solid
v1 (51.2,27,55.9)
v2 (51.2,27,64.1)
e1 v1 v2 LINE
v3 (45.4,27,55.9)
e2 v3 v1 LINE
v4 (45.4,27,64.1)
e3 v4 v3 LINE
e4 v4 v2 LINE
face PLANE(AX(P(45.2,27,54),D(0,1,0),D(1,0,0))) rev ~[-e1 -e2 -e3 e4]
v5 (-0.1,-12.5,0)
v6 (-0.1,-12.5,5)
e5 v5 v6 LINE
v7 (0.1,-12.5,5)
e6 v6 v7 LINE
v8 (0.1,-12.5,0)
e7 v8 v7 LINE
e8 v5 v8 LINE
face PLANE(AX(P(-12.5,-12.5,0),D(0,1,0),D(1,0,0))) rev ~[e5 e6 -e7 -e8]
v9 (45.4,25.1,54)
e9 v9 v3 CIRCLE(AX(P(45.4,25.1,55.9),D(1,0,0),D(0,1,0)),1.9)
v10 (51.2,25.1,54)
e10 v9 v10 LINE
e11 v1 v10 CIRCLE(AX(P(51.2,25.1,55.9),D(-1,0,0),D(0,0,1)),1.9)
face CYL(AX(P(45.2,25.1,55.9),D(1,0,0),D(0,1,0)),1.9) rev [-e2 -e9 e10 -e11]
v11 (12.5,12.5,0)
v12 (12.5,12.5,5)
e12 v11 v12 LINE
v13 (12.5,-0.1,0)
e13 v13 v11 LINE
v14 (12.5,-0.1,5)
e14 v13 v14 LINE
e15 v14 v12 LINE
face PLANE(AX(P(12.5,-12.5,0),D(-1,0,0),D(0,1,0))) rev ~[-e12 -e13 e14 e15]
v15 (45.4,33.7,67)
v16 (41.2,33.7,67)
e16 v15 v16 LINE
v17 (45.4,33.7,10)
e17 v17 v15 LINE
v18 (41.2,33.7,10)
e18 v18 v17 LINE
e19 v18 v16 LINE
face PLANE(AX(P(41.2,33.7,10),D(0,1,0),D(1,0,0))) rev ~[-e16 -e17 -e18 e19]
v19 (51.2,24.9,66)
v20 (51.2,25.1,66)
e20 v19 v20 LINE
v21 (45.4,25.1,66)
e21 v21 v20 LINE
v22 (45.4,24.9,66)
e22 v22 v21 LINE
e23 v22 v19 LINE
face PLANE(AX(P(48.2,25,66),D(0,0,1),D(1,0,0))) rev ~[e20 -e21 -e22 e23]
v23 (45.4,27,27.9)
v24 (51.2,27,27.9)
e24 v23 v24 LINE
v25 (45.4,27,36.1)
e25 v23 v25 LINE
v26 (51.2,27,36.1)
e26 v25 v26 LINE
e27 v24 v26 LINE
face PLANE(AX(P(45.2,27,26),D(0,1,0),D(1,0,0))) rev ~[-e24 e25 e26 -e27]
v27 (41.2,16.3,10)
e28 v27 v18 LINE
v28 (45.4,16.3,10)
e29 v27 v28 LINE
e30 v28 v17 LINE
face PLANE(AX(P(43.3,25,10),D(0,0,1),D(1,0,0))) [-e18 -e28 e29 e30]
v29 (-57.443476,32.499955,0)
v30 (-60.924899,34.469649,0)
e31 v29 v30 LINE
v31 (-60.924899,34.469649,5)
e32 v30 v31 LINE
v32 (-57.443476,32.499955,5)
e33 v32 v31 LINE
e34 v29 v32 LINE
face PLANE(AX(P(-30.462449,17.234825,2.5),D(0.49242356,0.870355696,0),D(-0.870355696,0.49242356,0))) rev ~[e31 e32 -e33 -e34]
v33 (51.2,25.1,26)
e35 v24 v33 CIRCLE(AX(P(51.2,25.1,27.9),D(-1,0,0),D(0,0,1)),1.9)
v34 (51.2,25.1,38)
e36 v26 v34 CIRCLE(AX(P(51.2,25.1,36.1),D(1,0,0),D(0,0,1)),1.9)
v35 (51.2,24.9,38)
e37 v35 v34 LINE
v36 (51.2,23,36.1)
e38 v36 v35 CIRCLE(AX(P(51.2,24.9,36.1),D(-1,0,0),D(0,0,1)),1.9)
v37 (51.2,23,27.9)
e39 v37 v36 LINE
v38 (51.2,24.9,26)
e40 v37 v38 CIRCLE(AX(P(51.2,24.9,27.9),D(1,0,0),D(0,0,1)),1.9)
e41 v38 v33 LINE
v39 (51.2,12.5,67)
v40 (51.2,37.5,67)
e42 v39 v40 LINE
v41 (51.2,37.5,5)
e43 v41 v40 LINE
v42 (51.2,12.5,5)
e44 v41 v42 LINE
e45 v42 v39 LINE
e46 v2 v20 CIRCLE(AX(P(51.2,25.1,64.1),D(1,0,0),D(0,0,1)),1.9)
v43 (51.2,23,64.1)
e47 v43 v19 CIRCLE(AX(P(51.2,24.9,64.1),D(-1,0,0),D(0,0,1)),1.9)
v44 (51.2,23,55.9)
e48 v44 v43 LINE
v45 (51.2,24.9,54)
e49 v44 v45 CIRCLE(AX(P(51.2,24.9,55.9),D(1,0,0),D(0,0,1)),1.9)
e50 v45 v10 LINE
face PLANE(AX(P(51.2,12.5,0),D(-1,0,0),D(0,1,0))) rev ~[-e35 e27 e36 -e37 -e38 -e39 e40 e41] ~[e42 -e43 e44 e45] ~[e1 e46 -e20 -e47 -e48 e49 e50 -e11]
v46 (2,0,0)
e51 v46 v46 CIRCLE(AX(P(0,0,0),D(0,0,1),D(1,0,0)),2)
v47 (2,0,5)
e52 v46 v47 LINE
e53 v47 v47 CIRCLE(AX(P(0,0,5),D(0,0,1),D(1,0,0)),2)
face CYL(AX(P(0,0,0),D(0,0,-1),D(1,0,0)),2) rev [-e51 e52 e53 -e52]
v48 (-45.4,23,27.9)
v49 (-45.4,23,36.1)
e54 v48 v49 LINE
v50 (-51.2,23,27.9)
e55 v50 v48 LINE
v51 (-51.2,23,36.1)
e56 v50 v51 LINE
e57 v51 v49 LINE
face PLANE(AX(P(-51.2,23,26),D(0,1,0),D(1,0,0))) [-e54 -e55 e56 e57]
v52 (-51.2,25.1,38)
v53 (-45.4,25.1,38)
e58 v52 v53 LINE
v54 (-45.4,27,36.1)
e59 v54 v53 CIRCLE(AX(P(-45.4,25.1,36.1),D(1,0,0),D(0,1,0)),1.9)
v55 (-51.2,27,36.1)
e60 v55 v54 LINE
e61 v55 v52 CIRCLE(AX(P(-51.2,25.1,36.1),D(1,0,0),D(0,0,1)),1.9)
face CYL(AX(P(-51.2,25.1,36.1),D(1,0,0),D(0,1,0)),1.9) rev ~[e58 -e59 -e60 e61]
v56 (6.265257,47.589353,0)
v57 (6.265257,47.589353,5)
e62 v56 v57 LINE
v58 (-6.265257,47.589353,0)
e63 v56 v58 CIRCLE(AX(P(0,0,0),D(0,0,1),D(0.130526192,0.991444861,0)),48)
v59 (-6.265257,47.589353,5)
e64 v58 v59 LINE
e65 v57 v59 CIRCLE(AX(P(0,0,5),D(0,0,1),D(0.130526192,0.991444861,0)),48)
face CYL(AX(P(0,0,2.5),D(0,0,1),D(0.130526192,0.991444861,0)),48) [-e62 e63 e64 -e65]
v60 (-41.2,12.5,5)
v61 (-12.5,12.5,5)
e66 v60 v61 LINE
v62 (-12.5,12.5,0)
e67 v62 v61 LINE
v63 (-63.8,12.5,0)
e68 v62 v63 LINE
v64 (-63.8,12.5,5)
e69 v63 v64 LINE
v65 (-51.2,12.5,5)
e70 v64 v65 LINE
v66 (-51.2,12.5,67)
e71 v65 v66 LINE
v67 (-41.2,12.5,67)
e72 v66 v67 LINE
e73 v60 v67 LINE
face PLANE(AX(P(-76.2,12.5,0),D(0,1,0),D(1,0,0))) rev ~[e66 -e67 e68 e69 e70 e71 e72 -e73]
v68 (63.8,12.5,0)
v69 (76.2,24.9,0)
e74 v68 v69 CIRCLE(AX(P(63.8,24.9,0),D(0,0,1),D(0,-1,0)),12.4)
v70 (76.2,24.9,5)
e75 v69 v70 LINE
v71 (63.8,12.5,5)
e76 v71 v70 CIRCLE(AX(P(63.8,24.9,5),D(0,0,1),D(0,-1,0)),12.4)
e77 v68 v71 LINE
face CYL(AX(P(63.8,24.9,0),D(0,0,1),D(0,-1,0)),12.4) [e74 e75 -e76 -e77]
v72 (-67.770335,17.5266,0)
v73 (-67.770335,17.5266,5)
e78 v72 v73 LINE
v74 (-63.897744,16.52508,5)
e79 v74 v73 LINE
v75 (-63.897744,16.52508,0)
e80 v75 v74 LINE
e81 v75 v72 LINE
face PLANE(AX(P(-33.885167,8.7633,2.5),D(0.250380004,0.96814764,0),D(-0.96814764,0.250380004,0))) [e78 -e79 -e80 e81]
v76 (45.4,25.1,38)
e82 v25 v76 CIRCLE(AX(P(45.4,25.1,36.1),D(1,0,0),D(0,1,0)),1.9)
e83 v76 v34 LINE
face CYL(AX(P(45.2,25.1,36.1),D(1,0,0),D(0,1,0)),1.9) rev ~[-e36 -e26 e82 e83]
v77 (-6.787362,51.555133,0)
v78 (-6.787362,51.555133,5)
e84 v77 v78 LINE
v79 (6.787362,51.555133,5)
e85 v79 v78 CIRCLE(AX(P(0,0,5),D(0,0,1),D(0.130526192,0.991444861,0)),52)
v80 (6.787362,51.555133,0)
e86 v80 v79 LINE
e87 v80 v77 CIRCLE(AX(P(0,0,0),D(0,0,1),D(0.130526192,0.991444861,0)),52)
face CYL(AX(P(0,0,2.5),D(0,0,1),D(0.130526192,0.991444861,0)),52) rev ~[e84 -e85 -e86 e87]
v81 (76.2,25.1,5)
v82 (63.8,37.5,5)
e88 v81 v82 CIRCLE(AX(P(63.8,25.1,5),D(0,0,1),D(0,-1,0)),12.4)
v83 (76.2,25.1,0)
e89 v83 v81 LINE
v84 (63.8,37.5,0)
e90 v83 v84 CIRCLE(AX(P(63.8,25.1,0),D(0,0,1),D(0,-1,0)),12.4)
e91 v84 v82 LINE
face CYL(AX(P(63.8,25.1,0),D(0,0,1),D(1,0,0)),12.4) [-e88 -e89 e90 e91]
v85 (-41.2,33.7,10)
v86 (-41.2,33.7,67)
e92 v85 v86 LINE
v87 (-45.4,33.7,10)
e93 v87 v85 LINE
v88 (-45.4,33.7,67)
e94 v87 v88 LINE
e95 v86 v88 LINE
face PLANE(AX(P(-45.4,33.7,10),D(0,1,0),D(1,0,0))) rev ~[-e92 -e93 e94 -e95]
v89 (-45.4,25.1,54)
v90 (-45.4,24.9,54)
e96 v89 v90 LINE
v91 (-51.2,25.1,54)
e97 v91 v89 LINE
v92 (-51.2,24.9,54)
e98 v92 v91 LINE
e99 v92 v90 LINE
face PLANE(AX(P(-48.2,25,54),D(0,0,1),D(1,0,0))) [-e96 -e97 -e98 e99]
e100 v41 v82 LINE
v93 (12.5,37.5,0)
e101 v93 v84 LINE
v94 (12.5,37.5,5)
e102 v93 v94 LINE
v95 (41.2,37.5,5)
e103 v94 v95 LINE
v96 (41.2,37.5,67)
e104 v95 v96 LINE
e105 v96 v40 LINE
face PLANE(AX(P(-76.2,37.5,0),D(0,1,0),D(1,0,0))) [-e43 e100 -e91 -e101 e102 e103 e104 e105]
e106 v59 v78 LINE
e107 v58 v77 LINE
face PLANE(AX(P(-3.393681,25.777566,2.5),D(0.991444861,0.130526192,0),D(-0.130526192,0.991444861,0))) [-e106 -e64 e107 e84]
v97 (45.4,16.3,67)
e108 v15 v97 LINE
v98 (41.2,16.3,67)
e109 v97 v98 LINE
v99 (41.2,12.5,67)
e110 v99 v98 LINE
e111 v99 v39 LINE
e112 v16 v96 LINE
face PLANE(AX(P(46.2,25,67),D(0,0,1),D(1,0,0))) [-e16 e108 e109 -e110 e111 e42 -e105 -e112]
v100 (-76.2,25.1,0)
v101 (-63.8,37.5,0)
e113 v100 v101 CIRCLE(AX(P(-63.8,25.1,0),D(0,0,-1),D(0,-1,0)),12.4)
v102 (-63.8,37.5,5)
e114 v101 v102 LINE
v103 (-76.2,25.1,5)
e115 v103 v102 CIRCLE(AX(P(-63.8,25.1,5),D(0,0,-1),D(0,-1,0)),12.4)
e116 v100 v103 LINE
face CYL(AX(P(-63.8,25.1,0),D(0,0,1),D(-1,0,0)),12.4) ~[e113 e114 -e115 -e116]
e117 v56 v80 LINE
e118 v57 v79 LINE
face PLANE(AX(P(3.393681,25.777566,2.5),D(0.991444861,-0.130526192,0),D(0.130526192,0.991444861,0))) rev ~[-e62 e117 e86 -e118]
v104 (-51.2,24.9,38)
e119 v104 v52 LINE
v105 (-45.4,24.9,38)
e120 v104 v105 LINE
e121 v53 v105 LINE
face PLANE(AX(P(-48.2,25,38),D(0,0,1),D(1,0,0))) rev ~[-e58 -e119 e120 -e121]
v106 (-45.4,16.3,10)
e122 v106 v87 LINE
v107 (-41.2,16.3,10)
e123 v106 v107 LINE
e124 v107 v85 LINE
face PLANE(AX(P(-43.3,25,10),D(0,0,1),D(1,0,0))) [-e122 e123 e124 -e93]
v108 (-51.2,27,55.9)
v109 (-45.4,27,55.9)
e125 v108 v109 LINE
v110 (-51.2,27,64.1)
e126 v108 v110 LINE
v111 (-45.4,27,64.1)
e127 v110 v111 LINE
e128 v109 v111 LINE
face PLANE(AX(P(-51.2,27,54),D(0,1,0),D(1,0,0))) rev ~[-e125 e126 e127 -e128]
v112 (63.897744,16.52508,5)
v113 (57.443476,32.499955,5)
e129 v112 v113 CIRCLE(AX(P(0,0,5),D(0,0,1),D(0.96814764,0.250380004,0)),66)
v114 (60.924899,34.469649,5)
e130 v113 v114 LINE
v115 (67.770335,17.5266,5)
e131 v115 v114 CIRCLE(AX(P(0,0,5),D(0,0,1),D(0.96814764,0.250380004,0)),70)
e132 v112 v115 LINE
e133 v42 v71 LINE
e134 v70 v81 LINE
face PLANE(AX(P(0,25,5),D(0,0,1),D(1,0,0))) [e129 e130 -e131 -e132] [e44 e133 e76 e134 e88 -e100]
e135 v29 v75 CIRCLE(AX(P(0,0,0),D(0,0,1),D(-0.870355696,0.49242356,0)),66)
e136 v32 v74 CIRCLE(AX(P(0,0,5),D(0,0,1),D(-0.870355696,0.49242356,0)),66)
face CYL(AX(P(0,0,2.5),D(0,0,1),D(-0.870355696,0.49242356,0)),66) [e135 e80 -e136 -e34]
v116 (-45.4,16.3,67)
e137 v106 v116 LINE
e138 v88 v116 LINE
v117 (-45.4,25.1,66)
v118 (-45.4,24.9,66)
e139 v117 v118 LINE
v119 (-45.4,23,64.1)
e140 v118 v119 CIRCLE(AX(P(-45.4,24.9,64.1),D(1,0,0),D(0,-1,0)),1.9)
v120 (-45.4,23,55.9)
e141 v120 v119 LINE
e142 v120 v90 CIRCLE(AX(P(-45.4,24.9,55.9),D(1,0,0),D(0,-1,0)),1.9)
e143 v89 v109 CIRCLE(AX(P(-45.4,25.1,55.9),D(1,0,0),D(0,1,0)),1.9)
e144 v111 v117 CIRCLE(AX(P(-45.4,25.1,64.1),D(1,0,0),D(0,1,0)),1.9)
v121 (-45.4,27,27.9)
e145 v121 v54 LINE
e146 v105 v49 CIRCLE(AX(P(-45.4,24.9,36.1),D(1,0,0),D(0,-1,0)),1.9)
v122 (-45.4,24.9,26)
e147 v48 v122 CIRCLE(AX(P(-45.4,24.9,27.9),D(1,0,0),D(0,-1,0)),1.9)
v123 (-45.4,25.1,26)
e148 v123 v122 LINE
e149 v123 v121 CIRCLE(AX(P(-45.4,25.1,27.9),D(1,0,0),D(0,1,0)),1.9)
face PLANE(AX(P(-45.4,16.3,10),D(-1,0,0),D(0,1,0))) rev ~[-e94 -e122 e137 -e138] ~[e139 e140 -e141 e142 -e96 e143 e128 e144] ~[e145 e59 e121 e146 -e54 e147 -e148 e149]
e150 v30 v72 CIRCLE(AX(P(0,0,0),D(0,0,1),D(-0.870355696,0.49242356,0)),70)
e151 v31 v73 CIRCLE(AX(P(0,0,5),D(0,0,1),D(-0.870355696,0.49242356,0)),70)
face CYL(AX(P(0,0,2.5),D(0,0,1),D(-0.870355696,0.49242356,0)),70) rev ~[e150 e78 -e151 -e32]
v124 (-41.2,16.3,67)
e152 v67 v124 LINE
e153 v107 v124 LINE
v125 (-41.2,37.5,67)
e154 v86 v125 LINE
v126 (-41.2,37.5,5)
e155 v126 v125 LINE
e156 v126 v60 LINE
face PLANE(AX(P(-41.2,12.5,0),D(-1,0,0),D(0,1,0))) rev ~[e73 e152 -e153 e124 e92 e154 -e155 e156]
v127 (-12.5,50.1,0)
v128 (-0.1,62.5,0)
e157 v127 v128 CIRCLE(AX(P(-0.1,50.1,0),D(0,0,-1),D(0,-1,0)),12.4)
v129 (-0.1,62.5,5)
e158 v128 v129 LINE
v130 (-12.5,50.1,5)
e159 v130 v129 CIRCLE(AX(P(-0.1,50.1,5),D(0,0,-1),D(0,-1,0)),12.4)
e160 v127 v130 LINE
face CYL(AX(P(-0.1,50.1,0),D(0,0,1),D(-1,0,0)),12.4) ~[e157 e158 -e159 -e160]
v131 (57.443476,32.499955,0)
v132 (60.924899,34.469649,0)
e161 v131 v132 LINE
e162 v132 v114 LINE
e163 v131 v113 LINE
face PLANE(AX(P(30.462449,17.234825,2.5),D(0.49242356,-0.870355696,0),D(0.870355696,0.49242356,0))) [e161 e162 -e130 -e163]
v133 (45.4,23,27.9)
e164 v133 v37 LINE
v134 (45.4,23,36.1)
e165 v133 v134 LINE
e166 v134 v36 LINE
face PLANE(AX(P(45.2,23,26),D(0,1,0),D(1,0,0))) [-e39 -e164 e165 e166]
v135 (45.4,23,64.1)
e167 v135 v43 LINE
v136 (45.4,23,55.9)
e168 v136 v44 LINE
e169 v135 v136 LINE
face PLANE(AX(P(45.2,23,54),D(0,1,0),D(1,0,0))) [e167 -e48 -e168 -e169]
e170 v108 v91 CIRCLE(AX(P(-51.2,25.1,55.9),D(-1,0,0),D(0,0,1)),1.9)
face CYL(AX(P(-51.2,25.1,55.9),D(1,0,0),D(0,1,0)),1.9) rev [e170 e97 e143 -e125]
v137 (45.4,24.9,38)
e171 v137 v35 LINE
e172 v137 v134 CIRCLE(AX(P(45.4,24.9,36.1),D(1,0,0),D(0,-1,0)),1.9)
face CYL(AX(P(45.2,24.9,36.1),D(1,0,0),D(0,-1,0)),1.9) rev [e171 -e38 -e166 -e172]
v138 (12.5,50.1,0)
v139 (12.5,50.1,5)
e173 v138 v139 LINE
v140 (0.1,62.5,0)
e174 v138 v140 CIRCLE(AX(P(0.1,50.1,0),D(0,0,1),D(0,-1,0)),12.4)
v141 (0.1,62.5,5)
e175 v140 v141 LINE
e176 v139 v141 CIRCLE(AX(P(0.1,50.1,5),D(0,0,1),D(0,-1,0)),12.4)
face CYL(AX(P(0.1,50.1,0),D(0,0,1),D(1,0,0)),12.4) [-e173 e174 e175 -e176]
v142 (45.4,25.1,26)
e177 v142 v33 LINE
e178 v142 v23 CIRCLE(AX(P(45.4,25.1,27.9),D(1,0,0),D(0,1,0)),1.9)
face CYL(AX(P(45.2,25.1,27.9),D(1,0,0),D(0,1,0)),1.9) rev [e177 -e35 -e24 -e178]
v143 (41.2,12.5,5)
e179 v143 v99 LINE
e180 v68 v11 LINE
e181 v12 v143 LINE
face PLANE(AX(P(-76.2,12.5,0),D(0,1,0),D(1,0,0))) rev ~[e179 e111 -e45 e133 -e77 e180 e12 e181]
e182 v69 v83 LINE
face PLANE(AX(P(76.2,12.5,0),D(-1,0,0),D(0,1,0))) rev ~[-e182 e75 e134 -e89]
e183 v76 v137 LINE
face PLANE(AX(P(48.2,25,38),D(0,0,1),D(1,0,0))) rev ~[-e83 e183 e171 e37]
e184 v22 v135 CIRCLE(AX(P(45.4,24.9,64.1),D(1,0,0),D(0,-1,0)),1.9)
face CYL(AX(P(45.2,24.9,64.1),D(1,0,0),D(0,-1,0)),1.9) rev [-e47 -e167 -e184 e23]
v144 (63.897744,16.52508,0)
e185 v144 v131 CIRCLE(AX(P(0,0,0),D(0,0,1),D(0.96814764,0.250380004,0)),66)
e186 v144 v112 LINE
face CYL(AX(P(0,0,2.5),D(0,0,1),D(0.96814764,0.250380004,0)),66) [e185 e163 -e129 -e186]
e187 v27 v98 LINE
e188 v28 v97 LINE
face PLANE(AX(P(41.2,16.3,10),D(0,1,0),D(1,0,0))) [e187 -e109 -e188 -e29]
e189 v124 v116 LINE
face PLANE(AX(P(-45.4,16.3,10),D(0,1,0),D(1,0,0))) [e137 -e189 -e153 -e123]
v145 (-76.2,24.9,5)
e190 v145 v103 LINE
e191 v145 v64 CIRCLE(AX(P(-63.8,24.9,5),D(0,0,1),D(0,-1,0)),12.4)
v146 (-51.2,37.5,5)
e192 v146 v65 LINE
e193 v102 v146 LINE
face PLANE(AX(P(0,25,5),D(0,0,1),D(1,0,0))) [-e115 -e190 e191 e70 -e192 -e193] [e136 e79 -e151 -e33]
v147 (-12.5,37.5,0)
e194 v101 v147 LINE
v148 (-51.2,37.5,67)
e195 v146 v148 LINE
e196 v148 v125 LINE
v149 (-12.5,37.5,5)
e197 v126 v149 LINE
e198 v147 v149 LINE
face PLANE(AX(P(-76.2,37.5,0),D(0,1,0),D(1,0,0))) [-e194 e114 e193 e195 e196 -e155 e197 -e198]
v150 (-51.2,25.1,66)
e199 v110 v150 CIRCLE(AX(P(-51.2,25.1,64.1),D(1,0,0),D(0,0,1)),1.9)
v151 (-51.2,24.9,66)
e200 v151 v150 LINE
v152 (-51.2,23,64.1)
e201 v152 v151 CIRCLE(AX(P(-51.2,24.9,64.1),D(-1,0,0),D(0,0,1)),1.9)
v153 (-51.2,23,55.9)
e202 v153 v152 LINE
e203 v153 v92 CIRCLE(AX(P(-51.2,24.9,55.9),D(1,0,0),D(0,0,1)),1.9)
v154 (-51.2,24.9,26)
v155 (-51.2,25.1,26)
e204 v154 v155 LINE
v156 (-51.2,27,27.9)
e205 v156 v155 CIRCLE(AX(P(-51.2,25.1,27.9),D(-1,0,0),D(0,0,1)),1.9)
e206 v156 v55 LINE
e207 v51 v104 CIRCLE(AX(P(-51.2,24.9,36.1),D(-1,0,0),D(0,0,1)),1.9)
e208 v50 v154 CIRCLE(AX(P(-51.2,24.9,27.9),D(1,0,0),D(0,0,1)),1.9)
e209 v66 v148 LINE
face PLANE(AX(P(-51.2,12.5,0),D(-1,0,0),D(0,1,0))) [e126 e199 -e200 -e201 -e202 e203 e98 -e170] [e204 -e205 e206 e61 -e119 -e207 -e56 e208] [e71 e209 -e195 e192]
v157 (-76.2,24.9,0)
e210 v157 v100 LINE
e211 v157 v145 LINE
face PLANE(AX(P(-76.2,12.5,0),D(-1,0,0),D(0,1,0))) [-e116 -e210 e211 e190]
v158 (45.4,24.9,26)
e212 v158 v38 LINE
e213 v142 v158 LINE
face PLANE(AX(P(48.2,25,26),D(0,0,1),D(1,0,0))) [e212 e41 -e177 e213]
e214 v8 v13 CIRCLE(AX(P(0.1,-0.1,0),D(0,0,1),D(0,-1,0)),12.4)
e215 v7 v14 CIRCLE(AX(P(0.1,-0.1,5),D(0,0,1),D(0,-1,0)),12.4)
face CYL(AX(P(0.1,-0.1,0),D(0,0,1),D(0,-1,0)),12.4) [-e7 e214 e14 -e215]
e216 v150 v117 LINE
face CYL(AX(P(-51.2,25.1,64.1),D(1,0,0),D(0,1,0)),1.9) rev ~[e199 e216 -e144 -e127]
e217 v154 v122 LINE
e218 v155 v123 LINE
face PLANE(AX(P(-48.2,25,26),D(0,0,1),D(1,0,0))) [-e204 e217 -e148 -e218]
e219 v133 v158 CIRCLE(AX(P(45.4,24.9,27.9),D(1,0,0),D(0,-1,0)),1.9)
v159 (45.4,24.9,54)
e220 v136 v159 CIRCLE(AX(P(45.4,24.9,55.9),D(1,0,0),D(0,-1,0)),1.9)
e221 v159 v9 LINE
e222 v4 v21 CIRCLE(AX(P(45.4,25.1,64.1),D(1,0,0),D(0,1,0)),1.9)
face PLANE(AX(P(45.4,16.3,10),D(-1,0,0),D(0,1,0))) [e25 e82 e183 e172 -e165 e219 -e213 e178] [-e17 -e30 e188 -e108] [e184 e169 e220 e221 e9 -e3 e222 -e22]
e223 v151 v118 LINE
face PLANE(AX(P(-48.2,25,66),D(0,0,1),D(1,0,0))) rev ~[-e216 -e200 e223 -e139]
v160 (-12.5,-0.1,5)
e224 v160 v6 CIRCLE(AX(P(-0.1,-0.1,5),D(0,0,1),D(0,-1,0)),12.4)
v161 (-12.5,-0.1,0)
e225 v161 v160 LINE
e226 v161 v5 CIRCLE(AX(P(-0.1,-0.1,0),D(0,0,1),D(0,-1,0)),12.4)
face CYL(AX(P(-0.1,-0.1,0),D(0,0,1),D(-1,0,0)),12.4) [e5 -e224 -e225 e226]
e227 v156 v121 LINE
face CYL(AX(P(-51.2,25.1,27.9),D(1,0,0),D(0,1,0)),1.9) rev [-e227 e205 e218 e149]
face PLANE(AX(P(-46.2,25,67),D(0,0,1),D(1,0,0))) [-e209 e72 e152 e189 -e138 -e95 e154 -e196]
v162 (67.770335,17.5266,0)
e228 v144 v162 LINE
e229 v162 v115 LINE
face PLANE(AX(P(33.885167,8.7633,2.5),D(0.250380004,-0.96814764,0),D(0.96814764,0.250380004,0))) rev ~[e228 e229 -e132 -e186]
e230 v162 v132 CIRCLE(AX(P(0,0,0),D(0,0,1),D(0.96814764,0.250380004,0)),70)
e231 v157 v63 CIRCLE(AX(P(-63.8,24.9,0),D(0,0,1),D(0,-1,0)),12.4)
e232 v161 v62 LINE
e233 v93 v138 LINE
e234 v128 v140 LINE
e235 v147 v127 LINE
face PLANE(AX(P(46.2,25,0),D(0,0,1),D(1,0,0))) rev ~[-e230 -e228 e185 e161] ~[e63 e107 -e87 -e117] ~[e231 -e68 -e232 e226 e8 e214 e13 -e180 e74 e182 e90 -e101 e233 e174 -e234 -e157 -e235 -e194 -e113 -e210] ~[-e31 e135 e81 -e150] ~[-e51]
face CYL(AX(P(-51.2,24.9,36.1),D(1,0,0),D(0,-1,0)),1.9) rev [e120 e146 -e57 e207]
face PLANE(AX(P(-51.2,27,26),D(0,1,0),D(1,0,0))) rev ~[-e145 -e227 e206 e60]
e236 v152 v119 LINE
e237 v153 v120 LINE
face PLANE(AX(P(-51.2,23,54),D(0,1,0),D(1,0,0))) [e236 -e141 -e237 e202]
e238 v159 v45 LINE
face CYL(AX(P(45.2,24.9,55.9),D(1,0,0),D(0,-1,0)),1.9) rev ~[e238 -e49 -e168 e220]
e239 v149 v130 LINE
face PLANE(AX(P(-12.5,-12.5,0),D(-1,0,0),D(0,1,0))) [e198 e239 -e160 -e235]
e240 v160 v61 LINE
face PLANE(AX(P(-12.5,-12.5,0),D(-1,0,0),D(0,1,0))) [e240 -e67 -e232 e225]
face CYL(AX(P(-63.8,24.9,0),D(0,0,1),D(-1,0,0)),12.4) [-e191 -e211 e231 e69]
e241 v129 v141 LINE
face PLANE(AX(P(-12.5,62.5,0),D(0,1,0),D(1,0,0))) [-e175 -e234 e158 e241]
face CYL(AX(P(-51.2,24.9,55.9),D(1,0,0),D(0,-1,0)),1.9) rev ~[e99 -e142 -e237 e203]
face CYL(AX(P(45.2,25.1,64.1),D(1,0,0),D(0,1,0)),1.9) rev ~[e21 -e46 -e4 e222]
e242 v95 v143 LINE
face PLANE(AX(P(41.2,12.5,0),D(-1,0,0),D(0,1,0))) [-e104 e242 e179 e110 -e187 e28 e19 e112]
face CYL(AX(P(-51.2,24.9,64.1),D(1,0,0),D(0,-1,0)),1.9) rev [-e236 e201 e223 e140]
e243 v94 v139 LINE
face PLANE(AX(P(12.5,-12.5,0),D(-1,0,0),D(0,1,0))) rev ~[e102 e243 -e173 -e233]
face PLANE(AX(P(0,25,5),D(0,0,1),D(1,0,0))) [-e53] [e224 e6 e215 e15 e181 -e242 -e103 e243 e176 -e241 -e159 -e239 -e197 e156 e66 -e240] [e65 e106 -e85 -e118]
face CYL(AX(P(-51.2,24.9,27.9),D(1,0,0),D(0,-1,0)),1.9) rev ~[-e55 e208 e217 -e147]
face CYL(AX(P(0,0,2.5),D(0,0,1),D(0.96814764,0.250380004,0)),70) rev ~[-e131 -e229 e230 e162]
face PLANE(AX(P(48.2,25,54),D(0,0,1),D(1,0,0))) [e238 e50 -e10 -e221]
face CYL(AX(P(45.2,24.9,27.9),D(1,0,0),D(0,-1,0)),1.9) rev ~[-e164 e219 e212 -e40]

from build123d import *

# Parameters (mm, degrees)
BOX011_W                    = 6
BOX011_H                    = 4
BOX011_DEPTH                = 12
FILLET009_R                 = 1.9
BOX013_W                    = 4.2
BOX013_H                    = 17.4
BOX013_DEPTH                = 67
BOX010_W                    = 6
BOX010_H                    = 4
BOX010_DEPTH                = 12
FILLET008_R                 = 1.9
BOX012_W                    = 10
BOX012_H                    = 25
BOX012_DEPTH                = 67
BOX007_W                    = 4.2
BOX007_H                    = 17.4
BOX007_DEPTH                = 67
BOX008_W                    = 6
BOX008_H                    = 4
BOX008_DEPTH                = 12
FILLET006_R                 = 1.9
BOX009_W                    = 6
BOX009_H                    = 4
BOX009_DEPTH                = 12
FILLET007_R                 = 1.9
BOX006_W                    = 10
BOX006_H                    = 25
BOX006_DEPTH                = 67
CYLINDER002_W               = 66
CYLINDER002_H               = 5
CYLINDER002_ANGLE           = 15
CYLINDER002_PLACEMENT_ANGLE = 14.5
CYLINDER001_W               = 70
CYLINDER001_H               = 5
CYLINDER001_ANGLE           = 15
CYLINDER001_PLACEMENT_ANGLE = 14.5
CYLINDER004_W               = 48
CYLINDER004_H               = 5
CYLINDER004_ANGLE           = 15
CYLINDER004_PLACEMENT_ANGLE = 82.5
CYLINDER003_W               = 52
CYLINDER003_H               = 5
CYLINDER003_ANGLE           = 15
CYLINDER003_PLACEMENT_ANGLE = 82.5
CYLINDER007_R               = 2
CYLINDER007_DEPTH           = 5
CYLINDER006_W               = 66
CYLINDER006_H               = 5
CYLINDER006_ANGLE           = 15
CYLINDER006_PLACEMENT_ANGLE = 150.5
CYLINDER005_W               = 70
CYLINDER005_H               = 5
CYLINDER005_ANGLE           = 15
CYLINDER005_PLACEMENT_ANGLE = 150.5
BOX015_W                    = 25
BOX015_H                    = 75
BOX015_DEPTH                = 5
FILLET011_R                 = 12.4
BOX014_W                    = 152.4
BOX014_H                    = 25
BOX014_DEPTH                = 5
FILLET010_R                 = 12.4


with BuildPart() as fillet009:
    # Box011 → Box011 (new body)
    with BuildSketch(Plane(origin=(-45, 23, 26), x_dir=(1, 0, 0), z_dir=(0, 0, 1))):
        with Locations((3, 2)):
            Rectangle(BOX011_W, BOX011_H)
    extrude(amount=BOX011_DEPTH)

    # Fillet009
    fillet009_edges = [fillet009.edges().sort_by_distance(p)[0] for p in [
        (-42, 23, 26),
        (-42, 23, 38),
        (-42, 27, 26),
        (-42, 27, 38),
    ]]
    fillet(fillet009_edges, radius=FILLET009_R)


with BuildPart() as w_rfel013:
    # Box013 → Box013 (new body)
    with BuildSketch(Plane(origin=(-39.2, 16.3, 10), x_dir=(1, 0, 0), z_dir=(0, 0, 1))):
        with Locations((2.1, 8.7)):
            Rectangle(BOX013_W, BOX013_H)
    extrude(amount=BOX013_DEPTH)


with BuildPart() as fusion003:
    # Box010 → Box010 (new body)
    with BuildSketch(Plane(origin=(-45, 23, 54), x_dir=(1, 0, 0), z_dir=(0, 0, 1))):
        with Locations((3, 2)):
            Rectangle(BOX010_W, BOX010_H)
    extrude(amount=BOX010_DEPTH)

    # Fillet008
    fillet008_edges = [fusion003.edges().sort_by_distance(p)[0] for p in [
        (-42, 23, 54),
        (-42, 23, 66),
        (-42, 27, 54),
        (-42, 27, 66),
    ]]
    fillet(fillet008_edges, radius=FILLET008_R)

    # Fusion003: union Fillet009, Würfel013
    add(fillet009.part)
    add(w_rfel013.part)


with BuildPart() as stuetze002:
    # Box012 → Box012 (new body)
    with BuildSketch(Plane(origin=(-45, 12.5, 0), x_dir=(1, 0, 0), z_dir=(0, 0, 1))):
        with Locations((5, 12.5)):
            Rectangle(BOX012_W, BOX012_H)
    extrude(amount=BOX012_DEPTH)

    # Cut006: cut Fusion003
    add(fusion003.part, mode=Mode.SUBTRACT)


with BuildPart() as stuetze002_1:
    # Cut006 placement: moved
    add(stuetze002.part.moved(Location((-6.2, 0, 0))))


with BuildPart() as w_rfel007:
    # Box007 → Box007 (new body)
    with BuildSketch(Plane(origin=(35, 16.3, 10), x_dir=(1, 0, 0), z_dir=(0, 0, 1))):
        with Locations((2.1, 8.7)):
            Rectangle(BOX007_W, BOX007_H)
    extrude(amount=BOX007_DEPTH)


with BuildPart() as fillet006:
    # Box008 → Box008 (new body)
    with BuildSketch(Plane(origin=(39, 23, 54), x_dir=(1, 0, 0), z_dir=(0, 0, 1))):
        with Locations((3, 2)):
            Rectangle(BOX008_W, BOX008_H)
    extrude(amount=BOX008_DEPTH)

    # Fillet006
    fillet006_edges = [fillet006.edges().sort_by_distance(p)[0] for p in [
        (42, 23, 54),
        (42, 23, 66),
        (42, 27, 54),
        (42, 27, 66),
    ]]
    fillet(fillet006_edges, radius=FILLET006_R)


with BuildPart() as fusion002:
    # Box009 → Box009 (new body)
    with BuildSketch(Plane(origin=(39, 23, 26), x_dir=(1, 0, 0), z_dir=(0, 0, 1))):
        with Locations((3, 2)):
            Rectangle(BOX009_W, BOX009_H)
    extrude(amount=BOX009_DEPTH)

    # Fillet007
    fillet007_edges = [fusion002.edges().sort_by_distance(p)[0] for p in [
        (42, 23, 26),
        (42, 23, 38),
        (42, 27, 26),
        (42, 27, 38),
    ]]
    fillet(fillet007_edges, radius=FILLET007_R)

    # Fusion002: union Würfel007, Fillet006
    add(w_rfel007.part)
    add(fillet006.part)


with BuildPart() as stuetze001:
    # Box006 → Box006 (new body)
    with BuildSketch(Plane(origin=(35, 12.5, 0), x_dir=(1, 0, 0), z_dir=(0, 0, 1))):
        with Locations((5, 12.5)):
            Rectangle(BOX006_W, BOX006_H)
    extrude(amount=BOX006_DEPTH)

    # Cut005: cut Fusion002
    add(fusion002.part, mode=Mode.SUBTRACT)


with BuildPart() as stuetze001_1:
    # Cut005 placement: moved
    add(stuetze001.part.moved(Location((6.2, 0, 0))))


with BuildPart() as zylinder002:
    # Cylinder002 → Cylinder002 (revolve)
    with BuildSketch(Plane.XZ):
        with Locations((33, 2.5)):
            Rectangle(CYLINDER002_W, CYLINDER002_H)
    revolve(axis=Axis((0, 0, 0), (0, 0, 1)), revolution_arc=CYLINDER002_ANGLE)


with BuildPart() as zylinder002_1:
    # Cylinder002 placement: moved
    add(zylinder002.part.rotate(Axis((0, 0, 0), (0, 0, 1)), CYLINDER002_PLACEMENT_ANGLE))


with BuildPart() as bohrschlitz001:
    # Cylinder001 → Cylinder001 (revolve)
    with BuildSketch(Plane.XZ):
        with Locations((35, 2.5)):
            Rectangle(CYLINDER001_W, CYLINDER001_H)
    revolve(axis=Axis((0, 0, 0), (0, 0, 1)), revolution_arc=CYLINDER001_ANGLE)


with BuildPart() as bohrschlitz001_1:
    # Cylinder001 placement: moved
    add(bohrschlitz001.part.rotate(Axis((0, 0, 0), (0, 0, 1)), CYLINDER001_PLACEMENT_ANGLE))

    # Cut: cut Zylinder002
    add(zylinder002_1.part, mode=Mode.SUBTRACT)


with BuildPart() as zylinder004:
    # Cylinder004 → Cylinder004 (revolve)
    with BuildSketch(Plane.XZ):
        with Locations((24, 2.5)):
            Rectangle(CYLINDER004_W, CYLINDER004_H)
    revolve(axis=Axis((0, 0, 0), (0, 0, 1)), revolution_arc=CYLINDER004_ANGLE)


with BuildPart() as zylinder004_1:
    # Cylinder004 placement: moved
    add(zylinder004.part.rotate(Axis((0, 0, 0), (0, 0, 1)), CYLINDER004_PLACEMENT_ANGLE))


with BuildPart() as bohrschlitz002:
    # Cylinder003 → Cylinder003 (revolve)
    with BuildSketch(Plane.XZ):
        with Locations((26, 2.5)):
            Rectangle(CYLINDER003_W, CYLINDER003_H)
    revolve(axis=Axis((0, 0, 0), (0, 0, 1)), revolution_arc=CYLINDER003_ANGLE)


with BuildPart() as bohrschlitz002_1:
    # Cylinder003 placement: moved
    add(bohrschlitz002.part.rotate(Axis((0, 0, 0), (0, 0, 1)), CYLINDER003_PLACEMENT_ANGLE))

    # Cut001: cut Zylinder004
    add(zylinder004_1.part, mode=Mode.SUBTRACT)


with BuildPart() as borhloch002:
    # Cylinder007 → Cylinder007 (new body)
    with BuildSketch(Plane.XY):
        Circle(CYLINDER007_R)
    extrude(amount=CYLINDER007_DEPTH)


with BuildPart() as zylinder006:
    # Cylinder006 → Cylinder006 (revolve)
    with BuildSketch(Plane.XZ):
        with Locations((33, 2.5)):
            Rectangle(CYLINDER006_W, CYLINDER006_H)
    revolve(axis=Axis((0, 0, 0), (0, 0, 1)), revolution_arc=CYLINDER006_ANGLE)


with BuildPart() as zylinder006_1:
    # Cylinder006 placement: moved
    add(zylinder006.part.rotate(Axis((0, 0, 0), (0, 0, 1)), CYLINDER006_PLACEMENT_ANGLE))


with BuildPart() as bohrschlitze_sockel:
    # Cylinder005 → Cylinder005 (revolve)
    with BuildSketch(Plane.XZ):
        with Locations((35, 2.5)):
            Rectangle(CYLINDER005_W, CYLINDER005_H)
    revolve(axis=Axis((0, 0, 0), (0, 0, 1)), revolution_arc=CYLINDER005_ANGLE)


with BuildPart() as bohrschlitze_sockel_1:
    # Cylinder005 placement: moved
    add(bohrschlitze_sockel.part.rotate(Axis((0, 0, 0), (0, 0, 1)), CYLINDER005_PLACEMENT_ANGLE))

    # Cut002: cut Zylinder006
    add(zylinder006_1.part, mode=Mode.SUBTRACT)

    # Fusion004: union Bohrschlitz001, Bohrschlitz002, Borhloch002
    add(bohrschlitz001_1.part)
    add(bohrschlitz002_1.part)
    add(borhloch002.part)


with BuildPart() as fillet002:
    # Box015 → Box015 (new body)
    with BuildSketch(Plane(origin=(-12.5, -12.5, 0), x_dir=(1, 0, 0), z_dir=(0, 0, 1))):
        with Locations((12.5, 37.5)):
            Rectangle(BOX015_W, BOX015_H)
    extrude(amount=BOX015_DEPTH)

    # Fillet011
    fillet011_edges = [fillet002.edges().sort_by_distance(p)[0] for p in [
        (-12.5, -12.5, 2.5),
        (-12.5, 62.5, 2.5),
        (12.5, -12.5, 2.5),
        (12.5, 62.5, 2.5),
    ]]
    fillet(fillet011_edges, radius=FILLET011_R)


with BuildPart() as fusion:
    # Box014 → Box014 (new body)
    with BuildSketch(Plane(origin=(-76.2, 12.5, 0), x_dir=(1, 0, 0), z_dir=(0, 0, 1))):
        with Locations((76.2, 12.5)):
            Rectangle(BOX014_W, BOX014_H)
    extrude(amount=BOX014_DEPTH)

    # Fillet010
    fillet010_edges = [fusion.edges().sort_by_distance(p)[0] for p in [
        (-76.2, 12.5, 2.5),
        (-76.2, 37.5, 2.5),
        (76.2, 12.5, 2.5),
        (76.2, 37.5, 2.5),
    ]]
    fillet(fillet010_edges, radius=FILLET010_R)

    # Fusion005: union Fillet002
    add(fillet002.part)

    # Cut007: cut Bohrschlitze_Sockel
    add(bohrschlitze_sockel_1.part, mode=Mode.SUBTRACT)

    # Fusion: union Stuetze002, Stuetze001
    add(stuetze002_1.part)
    add(stuetze001_1.part)


solid = fusion.part
